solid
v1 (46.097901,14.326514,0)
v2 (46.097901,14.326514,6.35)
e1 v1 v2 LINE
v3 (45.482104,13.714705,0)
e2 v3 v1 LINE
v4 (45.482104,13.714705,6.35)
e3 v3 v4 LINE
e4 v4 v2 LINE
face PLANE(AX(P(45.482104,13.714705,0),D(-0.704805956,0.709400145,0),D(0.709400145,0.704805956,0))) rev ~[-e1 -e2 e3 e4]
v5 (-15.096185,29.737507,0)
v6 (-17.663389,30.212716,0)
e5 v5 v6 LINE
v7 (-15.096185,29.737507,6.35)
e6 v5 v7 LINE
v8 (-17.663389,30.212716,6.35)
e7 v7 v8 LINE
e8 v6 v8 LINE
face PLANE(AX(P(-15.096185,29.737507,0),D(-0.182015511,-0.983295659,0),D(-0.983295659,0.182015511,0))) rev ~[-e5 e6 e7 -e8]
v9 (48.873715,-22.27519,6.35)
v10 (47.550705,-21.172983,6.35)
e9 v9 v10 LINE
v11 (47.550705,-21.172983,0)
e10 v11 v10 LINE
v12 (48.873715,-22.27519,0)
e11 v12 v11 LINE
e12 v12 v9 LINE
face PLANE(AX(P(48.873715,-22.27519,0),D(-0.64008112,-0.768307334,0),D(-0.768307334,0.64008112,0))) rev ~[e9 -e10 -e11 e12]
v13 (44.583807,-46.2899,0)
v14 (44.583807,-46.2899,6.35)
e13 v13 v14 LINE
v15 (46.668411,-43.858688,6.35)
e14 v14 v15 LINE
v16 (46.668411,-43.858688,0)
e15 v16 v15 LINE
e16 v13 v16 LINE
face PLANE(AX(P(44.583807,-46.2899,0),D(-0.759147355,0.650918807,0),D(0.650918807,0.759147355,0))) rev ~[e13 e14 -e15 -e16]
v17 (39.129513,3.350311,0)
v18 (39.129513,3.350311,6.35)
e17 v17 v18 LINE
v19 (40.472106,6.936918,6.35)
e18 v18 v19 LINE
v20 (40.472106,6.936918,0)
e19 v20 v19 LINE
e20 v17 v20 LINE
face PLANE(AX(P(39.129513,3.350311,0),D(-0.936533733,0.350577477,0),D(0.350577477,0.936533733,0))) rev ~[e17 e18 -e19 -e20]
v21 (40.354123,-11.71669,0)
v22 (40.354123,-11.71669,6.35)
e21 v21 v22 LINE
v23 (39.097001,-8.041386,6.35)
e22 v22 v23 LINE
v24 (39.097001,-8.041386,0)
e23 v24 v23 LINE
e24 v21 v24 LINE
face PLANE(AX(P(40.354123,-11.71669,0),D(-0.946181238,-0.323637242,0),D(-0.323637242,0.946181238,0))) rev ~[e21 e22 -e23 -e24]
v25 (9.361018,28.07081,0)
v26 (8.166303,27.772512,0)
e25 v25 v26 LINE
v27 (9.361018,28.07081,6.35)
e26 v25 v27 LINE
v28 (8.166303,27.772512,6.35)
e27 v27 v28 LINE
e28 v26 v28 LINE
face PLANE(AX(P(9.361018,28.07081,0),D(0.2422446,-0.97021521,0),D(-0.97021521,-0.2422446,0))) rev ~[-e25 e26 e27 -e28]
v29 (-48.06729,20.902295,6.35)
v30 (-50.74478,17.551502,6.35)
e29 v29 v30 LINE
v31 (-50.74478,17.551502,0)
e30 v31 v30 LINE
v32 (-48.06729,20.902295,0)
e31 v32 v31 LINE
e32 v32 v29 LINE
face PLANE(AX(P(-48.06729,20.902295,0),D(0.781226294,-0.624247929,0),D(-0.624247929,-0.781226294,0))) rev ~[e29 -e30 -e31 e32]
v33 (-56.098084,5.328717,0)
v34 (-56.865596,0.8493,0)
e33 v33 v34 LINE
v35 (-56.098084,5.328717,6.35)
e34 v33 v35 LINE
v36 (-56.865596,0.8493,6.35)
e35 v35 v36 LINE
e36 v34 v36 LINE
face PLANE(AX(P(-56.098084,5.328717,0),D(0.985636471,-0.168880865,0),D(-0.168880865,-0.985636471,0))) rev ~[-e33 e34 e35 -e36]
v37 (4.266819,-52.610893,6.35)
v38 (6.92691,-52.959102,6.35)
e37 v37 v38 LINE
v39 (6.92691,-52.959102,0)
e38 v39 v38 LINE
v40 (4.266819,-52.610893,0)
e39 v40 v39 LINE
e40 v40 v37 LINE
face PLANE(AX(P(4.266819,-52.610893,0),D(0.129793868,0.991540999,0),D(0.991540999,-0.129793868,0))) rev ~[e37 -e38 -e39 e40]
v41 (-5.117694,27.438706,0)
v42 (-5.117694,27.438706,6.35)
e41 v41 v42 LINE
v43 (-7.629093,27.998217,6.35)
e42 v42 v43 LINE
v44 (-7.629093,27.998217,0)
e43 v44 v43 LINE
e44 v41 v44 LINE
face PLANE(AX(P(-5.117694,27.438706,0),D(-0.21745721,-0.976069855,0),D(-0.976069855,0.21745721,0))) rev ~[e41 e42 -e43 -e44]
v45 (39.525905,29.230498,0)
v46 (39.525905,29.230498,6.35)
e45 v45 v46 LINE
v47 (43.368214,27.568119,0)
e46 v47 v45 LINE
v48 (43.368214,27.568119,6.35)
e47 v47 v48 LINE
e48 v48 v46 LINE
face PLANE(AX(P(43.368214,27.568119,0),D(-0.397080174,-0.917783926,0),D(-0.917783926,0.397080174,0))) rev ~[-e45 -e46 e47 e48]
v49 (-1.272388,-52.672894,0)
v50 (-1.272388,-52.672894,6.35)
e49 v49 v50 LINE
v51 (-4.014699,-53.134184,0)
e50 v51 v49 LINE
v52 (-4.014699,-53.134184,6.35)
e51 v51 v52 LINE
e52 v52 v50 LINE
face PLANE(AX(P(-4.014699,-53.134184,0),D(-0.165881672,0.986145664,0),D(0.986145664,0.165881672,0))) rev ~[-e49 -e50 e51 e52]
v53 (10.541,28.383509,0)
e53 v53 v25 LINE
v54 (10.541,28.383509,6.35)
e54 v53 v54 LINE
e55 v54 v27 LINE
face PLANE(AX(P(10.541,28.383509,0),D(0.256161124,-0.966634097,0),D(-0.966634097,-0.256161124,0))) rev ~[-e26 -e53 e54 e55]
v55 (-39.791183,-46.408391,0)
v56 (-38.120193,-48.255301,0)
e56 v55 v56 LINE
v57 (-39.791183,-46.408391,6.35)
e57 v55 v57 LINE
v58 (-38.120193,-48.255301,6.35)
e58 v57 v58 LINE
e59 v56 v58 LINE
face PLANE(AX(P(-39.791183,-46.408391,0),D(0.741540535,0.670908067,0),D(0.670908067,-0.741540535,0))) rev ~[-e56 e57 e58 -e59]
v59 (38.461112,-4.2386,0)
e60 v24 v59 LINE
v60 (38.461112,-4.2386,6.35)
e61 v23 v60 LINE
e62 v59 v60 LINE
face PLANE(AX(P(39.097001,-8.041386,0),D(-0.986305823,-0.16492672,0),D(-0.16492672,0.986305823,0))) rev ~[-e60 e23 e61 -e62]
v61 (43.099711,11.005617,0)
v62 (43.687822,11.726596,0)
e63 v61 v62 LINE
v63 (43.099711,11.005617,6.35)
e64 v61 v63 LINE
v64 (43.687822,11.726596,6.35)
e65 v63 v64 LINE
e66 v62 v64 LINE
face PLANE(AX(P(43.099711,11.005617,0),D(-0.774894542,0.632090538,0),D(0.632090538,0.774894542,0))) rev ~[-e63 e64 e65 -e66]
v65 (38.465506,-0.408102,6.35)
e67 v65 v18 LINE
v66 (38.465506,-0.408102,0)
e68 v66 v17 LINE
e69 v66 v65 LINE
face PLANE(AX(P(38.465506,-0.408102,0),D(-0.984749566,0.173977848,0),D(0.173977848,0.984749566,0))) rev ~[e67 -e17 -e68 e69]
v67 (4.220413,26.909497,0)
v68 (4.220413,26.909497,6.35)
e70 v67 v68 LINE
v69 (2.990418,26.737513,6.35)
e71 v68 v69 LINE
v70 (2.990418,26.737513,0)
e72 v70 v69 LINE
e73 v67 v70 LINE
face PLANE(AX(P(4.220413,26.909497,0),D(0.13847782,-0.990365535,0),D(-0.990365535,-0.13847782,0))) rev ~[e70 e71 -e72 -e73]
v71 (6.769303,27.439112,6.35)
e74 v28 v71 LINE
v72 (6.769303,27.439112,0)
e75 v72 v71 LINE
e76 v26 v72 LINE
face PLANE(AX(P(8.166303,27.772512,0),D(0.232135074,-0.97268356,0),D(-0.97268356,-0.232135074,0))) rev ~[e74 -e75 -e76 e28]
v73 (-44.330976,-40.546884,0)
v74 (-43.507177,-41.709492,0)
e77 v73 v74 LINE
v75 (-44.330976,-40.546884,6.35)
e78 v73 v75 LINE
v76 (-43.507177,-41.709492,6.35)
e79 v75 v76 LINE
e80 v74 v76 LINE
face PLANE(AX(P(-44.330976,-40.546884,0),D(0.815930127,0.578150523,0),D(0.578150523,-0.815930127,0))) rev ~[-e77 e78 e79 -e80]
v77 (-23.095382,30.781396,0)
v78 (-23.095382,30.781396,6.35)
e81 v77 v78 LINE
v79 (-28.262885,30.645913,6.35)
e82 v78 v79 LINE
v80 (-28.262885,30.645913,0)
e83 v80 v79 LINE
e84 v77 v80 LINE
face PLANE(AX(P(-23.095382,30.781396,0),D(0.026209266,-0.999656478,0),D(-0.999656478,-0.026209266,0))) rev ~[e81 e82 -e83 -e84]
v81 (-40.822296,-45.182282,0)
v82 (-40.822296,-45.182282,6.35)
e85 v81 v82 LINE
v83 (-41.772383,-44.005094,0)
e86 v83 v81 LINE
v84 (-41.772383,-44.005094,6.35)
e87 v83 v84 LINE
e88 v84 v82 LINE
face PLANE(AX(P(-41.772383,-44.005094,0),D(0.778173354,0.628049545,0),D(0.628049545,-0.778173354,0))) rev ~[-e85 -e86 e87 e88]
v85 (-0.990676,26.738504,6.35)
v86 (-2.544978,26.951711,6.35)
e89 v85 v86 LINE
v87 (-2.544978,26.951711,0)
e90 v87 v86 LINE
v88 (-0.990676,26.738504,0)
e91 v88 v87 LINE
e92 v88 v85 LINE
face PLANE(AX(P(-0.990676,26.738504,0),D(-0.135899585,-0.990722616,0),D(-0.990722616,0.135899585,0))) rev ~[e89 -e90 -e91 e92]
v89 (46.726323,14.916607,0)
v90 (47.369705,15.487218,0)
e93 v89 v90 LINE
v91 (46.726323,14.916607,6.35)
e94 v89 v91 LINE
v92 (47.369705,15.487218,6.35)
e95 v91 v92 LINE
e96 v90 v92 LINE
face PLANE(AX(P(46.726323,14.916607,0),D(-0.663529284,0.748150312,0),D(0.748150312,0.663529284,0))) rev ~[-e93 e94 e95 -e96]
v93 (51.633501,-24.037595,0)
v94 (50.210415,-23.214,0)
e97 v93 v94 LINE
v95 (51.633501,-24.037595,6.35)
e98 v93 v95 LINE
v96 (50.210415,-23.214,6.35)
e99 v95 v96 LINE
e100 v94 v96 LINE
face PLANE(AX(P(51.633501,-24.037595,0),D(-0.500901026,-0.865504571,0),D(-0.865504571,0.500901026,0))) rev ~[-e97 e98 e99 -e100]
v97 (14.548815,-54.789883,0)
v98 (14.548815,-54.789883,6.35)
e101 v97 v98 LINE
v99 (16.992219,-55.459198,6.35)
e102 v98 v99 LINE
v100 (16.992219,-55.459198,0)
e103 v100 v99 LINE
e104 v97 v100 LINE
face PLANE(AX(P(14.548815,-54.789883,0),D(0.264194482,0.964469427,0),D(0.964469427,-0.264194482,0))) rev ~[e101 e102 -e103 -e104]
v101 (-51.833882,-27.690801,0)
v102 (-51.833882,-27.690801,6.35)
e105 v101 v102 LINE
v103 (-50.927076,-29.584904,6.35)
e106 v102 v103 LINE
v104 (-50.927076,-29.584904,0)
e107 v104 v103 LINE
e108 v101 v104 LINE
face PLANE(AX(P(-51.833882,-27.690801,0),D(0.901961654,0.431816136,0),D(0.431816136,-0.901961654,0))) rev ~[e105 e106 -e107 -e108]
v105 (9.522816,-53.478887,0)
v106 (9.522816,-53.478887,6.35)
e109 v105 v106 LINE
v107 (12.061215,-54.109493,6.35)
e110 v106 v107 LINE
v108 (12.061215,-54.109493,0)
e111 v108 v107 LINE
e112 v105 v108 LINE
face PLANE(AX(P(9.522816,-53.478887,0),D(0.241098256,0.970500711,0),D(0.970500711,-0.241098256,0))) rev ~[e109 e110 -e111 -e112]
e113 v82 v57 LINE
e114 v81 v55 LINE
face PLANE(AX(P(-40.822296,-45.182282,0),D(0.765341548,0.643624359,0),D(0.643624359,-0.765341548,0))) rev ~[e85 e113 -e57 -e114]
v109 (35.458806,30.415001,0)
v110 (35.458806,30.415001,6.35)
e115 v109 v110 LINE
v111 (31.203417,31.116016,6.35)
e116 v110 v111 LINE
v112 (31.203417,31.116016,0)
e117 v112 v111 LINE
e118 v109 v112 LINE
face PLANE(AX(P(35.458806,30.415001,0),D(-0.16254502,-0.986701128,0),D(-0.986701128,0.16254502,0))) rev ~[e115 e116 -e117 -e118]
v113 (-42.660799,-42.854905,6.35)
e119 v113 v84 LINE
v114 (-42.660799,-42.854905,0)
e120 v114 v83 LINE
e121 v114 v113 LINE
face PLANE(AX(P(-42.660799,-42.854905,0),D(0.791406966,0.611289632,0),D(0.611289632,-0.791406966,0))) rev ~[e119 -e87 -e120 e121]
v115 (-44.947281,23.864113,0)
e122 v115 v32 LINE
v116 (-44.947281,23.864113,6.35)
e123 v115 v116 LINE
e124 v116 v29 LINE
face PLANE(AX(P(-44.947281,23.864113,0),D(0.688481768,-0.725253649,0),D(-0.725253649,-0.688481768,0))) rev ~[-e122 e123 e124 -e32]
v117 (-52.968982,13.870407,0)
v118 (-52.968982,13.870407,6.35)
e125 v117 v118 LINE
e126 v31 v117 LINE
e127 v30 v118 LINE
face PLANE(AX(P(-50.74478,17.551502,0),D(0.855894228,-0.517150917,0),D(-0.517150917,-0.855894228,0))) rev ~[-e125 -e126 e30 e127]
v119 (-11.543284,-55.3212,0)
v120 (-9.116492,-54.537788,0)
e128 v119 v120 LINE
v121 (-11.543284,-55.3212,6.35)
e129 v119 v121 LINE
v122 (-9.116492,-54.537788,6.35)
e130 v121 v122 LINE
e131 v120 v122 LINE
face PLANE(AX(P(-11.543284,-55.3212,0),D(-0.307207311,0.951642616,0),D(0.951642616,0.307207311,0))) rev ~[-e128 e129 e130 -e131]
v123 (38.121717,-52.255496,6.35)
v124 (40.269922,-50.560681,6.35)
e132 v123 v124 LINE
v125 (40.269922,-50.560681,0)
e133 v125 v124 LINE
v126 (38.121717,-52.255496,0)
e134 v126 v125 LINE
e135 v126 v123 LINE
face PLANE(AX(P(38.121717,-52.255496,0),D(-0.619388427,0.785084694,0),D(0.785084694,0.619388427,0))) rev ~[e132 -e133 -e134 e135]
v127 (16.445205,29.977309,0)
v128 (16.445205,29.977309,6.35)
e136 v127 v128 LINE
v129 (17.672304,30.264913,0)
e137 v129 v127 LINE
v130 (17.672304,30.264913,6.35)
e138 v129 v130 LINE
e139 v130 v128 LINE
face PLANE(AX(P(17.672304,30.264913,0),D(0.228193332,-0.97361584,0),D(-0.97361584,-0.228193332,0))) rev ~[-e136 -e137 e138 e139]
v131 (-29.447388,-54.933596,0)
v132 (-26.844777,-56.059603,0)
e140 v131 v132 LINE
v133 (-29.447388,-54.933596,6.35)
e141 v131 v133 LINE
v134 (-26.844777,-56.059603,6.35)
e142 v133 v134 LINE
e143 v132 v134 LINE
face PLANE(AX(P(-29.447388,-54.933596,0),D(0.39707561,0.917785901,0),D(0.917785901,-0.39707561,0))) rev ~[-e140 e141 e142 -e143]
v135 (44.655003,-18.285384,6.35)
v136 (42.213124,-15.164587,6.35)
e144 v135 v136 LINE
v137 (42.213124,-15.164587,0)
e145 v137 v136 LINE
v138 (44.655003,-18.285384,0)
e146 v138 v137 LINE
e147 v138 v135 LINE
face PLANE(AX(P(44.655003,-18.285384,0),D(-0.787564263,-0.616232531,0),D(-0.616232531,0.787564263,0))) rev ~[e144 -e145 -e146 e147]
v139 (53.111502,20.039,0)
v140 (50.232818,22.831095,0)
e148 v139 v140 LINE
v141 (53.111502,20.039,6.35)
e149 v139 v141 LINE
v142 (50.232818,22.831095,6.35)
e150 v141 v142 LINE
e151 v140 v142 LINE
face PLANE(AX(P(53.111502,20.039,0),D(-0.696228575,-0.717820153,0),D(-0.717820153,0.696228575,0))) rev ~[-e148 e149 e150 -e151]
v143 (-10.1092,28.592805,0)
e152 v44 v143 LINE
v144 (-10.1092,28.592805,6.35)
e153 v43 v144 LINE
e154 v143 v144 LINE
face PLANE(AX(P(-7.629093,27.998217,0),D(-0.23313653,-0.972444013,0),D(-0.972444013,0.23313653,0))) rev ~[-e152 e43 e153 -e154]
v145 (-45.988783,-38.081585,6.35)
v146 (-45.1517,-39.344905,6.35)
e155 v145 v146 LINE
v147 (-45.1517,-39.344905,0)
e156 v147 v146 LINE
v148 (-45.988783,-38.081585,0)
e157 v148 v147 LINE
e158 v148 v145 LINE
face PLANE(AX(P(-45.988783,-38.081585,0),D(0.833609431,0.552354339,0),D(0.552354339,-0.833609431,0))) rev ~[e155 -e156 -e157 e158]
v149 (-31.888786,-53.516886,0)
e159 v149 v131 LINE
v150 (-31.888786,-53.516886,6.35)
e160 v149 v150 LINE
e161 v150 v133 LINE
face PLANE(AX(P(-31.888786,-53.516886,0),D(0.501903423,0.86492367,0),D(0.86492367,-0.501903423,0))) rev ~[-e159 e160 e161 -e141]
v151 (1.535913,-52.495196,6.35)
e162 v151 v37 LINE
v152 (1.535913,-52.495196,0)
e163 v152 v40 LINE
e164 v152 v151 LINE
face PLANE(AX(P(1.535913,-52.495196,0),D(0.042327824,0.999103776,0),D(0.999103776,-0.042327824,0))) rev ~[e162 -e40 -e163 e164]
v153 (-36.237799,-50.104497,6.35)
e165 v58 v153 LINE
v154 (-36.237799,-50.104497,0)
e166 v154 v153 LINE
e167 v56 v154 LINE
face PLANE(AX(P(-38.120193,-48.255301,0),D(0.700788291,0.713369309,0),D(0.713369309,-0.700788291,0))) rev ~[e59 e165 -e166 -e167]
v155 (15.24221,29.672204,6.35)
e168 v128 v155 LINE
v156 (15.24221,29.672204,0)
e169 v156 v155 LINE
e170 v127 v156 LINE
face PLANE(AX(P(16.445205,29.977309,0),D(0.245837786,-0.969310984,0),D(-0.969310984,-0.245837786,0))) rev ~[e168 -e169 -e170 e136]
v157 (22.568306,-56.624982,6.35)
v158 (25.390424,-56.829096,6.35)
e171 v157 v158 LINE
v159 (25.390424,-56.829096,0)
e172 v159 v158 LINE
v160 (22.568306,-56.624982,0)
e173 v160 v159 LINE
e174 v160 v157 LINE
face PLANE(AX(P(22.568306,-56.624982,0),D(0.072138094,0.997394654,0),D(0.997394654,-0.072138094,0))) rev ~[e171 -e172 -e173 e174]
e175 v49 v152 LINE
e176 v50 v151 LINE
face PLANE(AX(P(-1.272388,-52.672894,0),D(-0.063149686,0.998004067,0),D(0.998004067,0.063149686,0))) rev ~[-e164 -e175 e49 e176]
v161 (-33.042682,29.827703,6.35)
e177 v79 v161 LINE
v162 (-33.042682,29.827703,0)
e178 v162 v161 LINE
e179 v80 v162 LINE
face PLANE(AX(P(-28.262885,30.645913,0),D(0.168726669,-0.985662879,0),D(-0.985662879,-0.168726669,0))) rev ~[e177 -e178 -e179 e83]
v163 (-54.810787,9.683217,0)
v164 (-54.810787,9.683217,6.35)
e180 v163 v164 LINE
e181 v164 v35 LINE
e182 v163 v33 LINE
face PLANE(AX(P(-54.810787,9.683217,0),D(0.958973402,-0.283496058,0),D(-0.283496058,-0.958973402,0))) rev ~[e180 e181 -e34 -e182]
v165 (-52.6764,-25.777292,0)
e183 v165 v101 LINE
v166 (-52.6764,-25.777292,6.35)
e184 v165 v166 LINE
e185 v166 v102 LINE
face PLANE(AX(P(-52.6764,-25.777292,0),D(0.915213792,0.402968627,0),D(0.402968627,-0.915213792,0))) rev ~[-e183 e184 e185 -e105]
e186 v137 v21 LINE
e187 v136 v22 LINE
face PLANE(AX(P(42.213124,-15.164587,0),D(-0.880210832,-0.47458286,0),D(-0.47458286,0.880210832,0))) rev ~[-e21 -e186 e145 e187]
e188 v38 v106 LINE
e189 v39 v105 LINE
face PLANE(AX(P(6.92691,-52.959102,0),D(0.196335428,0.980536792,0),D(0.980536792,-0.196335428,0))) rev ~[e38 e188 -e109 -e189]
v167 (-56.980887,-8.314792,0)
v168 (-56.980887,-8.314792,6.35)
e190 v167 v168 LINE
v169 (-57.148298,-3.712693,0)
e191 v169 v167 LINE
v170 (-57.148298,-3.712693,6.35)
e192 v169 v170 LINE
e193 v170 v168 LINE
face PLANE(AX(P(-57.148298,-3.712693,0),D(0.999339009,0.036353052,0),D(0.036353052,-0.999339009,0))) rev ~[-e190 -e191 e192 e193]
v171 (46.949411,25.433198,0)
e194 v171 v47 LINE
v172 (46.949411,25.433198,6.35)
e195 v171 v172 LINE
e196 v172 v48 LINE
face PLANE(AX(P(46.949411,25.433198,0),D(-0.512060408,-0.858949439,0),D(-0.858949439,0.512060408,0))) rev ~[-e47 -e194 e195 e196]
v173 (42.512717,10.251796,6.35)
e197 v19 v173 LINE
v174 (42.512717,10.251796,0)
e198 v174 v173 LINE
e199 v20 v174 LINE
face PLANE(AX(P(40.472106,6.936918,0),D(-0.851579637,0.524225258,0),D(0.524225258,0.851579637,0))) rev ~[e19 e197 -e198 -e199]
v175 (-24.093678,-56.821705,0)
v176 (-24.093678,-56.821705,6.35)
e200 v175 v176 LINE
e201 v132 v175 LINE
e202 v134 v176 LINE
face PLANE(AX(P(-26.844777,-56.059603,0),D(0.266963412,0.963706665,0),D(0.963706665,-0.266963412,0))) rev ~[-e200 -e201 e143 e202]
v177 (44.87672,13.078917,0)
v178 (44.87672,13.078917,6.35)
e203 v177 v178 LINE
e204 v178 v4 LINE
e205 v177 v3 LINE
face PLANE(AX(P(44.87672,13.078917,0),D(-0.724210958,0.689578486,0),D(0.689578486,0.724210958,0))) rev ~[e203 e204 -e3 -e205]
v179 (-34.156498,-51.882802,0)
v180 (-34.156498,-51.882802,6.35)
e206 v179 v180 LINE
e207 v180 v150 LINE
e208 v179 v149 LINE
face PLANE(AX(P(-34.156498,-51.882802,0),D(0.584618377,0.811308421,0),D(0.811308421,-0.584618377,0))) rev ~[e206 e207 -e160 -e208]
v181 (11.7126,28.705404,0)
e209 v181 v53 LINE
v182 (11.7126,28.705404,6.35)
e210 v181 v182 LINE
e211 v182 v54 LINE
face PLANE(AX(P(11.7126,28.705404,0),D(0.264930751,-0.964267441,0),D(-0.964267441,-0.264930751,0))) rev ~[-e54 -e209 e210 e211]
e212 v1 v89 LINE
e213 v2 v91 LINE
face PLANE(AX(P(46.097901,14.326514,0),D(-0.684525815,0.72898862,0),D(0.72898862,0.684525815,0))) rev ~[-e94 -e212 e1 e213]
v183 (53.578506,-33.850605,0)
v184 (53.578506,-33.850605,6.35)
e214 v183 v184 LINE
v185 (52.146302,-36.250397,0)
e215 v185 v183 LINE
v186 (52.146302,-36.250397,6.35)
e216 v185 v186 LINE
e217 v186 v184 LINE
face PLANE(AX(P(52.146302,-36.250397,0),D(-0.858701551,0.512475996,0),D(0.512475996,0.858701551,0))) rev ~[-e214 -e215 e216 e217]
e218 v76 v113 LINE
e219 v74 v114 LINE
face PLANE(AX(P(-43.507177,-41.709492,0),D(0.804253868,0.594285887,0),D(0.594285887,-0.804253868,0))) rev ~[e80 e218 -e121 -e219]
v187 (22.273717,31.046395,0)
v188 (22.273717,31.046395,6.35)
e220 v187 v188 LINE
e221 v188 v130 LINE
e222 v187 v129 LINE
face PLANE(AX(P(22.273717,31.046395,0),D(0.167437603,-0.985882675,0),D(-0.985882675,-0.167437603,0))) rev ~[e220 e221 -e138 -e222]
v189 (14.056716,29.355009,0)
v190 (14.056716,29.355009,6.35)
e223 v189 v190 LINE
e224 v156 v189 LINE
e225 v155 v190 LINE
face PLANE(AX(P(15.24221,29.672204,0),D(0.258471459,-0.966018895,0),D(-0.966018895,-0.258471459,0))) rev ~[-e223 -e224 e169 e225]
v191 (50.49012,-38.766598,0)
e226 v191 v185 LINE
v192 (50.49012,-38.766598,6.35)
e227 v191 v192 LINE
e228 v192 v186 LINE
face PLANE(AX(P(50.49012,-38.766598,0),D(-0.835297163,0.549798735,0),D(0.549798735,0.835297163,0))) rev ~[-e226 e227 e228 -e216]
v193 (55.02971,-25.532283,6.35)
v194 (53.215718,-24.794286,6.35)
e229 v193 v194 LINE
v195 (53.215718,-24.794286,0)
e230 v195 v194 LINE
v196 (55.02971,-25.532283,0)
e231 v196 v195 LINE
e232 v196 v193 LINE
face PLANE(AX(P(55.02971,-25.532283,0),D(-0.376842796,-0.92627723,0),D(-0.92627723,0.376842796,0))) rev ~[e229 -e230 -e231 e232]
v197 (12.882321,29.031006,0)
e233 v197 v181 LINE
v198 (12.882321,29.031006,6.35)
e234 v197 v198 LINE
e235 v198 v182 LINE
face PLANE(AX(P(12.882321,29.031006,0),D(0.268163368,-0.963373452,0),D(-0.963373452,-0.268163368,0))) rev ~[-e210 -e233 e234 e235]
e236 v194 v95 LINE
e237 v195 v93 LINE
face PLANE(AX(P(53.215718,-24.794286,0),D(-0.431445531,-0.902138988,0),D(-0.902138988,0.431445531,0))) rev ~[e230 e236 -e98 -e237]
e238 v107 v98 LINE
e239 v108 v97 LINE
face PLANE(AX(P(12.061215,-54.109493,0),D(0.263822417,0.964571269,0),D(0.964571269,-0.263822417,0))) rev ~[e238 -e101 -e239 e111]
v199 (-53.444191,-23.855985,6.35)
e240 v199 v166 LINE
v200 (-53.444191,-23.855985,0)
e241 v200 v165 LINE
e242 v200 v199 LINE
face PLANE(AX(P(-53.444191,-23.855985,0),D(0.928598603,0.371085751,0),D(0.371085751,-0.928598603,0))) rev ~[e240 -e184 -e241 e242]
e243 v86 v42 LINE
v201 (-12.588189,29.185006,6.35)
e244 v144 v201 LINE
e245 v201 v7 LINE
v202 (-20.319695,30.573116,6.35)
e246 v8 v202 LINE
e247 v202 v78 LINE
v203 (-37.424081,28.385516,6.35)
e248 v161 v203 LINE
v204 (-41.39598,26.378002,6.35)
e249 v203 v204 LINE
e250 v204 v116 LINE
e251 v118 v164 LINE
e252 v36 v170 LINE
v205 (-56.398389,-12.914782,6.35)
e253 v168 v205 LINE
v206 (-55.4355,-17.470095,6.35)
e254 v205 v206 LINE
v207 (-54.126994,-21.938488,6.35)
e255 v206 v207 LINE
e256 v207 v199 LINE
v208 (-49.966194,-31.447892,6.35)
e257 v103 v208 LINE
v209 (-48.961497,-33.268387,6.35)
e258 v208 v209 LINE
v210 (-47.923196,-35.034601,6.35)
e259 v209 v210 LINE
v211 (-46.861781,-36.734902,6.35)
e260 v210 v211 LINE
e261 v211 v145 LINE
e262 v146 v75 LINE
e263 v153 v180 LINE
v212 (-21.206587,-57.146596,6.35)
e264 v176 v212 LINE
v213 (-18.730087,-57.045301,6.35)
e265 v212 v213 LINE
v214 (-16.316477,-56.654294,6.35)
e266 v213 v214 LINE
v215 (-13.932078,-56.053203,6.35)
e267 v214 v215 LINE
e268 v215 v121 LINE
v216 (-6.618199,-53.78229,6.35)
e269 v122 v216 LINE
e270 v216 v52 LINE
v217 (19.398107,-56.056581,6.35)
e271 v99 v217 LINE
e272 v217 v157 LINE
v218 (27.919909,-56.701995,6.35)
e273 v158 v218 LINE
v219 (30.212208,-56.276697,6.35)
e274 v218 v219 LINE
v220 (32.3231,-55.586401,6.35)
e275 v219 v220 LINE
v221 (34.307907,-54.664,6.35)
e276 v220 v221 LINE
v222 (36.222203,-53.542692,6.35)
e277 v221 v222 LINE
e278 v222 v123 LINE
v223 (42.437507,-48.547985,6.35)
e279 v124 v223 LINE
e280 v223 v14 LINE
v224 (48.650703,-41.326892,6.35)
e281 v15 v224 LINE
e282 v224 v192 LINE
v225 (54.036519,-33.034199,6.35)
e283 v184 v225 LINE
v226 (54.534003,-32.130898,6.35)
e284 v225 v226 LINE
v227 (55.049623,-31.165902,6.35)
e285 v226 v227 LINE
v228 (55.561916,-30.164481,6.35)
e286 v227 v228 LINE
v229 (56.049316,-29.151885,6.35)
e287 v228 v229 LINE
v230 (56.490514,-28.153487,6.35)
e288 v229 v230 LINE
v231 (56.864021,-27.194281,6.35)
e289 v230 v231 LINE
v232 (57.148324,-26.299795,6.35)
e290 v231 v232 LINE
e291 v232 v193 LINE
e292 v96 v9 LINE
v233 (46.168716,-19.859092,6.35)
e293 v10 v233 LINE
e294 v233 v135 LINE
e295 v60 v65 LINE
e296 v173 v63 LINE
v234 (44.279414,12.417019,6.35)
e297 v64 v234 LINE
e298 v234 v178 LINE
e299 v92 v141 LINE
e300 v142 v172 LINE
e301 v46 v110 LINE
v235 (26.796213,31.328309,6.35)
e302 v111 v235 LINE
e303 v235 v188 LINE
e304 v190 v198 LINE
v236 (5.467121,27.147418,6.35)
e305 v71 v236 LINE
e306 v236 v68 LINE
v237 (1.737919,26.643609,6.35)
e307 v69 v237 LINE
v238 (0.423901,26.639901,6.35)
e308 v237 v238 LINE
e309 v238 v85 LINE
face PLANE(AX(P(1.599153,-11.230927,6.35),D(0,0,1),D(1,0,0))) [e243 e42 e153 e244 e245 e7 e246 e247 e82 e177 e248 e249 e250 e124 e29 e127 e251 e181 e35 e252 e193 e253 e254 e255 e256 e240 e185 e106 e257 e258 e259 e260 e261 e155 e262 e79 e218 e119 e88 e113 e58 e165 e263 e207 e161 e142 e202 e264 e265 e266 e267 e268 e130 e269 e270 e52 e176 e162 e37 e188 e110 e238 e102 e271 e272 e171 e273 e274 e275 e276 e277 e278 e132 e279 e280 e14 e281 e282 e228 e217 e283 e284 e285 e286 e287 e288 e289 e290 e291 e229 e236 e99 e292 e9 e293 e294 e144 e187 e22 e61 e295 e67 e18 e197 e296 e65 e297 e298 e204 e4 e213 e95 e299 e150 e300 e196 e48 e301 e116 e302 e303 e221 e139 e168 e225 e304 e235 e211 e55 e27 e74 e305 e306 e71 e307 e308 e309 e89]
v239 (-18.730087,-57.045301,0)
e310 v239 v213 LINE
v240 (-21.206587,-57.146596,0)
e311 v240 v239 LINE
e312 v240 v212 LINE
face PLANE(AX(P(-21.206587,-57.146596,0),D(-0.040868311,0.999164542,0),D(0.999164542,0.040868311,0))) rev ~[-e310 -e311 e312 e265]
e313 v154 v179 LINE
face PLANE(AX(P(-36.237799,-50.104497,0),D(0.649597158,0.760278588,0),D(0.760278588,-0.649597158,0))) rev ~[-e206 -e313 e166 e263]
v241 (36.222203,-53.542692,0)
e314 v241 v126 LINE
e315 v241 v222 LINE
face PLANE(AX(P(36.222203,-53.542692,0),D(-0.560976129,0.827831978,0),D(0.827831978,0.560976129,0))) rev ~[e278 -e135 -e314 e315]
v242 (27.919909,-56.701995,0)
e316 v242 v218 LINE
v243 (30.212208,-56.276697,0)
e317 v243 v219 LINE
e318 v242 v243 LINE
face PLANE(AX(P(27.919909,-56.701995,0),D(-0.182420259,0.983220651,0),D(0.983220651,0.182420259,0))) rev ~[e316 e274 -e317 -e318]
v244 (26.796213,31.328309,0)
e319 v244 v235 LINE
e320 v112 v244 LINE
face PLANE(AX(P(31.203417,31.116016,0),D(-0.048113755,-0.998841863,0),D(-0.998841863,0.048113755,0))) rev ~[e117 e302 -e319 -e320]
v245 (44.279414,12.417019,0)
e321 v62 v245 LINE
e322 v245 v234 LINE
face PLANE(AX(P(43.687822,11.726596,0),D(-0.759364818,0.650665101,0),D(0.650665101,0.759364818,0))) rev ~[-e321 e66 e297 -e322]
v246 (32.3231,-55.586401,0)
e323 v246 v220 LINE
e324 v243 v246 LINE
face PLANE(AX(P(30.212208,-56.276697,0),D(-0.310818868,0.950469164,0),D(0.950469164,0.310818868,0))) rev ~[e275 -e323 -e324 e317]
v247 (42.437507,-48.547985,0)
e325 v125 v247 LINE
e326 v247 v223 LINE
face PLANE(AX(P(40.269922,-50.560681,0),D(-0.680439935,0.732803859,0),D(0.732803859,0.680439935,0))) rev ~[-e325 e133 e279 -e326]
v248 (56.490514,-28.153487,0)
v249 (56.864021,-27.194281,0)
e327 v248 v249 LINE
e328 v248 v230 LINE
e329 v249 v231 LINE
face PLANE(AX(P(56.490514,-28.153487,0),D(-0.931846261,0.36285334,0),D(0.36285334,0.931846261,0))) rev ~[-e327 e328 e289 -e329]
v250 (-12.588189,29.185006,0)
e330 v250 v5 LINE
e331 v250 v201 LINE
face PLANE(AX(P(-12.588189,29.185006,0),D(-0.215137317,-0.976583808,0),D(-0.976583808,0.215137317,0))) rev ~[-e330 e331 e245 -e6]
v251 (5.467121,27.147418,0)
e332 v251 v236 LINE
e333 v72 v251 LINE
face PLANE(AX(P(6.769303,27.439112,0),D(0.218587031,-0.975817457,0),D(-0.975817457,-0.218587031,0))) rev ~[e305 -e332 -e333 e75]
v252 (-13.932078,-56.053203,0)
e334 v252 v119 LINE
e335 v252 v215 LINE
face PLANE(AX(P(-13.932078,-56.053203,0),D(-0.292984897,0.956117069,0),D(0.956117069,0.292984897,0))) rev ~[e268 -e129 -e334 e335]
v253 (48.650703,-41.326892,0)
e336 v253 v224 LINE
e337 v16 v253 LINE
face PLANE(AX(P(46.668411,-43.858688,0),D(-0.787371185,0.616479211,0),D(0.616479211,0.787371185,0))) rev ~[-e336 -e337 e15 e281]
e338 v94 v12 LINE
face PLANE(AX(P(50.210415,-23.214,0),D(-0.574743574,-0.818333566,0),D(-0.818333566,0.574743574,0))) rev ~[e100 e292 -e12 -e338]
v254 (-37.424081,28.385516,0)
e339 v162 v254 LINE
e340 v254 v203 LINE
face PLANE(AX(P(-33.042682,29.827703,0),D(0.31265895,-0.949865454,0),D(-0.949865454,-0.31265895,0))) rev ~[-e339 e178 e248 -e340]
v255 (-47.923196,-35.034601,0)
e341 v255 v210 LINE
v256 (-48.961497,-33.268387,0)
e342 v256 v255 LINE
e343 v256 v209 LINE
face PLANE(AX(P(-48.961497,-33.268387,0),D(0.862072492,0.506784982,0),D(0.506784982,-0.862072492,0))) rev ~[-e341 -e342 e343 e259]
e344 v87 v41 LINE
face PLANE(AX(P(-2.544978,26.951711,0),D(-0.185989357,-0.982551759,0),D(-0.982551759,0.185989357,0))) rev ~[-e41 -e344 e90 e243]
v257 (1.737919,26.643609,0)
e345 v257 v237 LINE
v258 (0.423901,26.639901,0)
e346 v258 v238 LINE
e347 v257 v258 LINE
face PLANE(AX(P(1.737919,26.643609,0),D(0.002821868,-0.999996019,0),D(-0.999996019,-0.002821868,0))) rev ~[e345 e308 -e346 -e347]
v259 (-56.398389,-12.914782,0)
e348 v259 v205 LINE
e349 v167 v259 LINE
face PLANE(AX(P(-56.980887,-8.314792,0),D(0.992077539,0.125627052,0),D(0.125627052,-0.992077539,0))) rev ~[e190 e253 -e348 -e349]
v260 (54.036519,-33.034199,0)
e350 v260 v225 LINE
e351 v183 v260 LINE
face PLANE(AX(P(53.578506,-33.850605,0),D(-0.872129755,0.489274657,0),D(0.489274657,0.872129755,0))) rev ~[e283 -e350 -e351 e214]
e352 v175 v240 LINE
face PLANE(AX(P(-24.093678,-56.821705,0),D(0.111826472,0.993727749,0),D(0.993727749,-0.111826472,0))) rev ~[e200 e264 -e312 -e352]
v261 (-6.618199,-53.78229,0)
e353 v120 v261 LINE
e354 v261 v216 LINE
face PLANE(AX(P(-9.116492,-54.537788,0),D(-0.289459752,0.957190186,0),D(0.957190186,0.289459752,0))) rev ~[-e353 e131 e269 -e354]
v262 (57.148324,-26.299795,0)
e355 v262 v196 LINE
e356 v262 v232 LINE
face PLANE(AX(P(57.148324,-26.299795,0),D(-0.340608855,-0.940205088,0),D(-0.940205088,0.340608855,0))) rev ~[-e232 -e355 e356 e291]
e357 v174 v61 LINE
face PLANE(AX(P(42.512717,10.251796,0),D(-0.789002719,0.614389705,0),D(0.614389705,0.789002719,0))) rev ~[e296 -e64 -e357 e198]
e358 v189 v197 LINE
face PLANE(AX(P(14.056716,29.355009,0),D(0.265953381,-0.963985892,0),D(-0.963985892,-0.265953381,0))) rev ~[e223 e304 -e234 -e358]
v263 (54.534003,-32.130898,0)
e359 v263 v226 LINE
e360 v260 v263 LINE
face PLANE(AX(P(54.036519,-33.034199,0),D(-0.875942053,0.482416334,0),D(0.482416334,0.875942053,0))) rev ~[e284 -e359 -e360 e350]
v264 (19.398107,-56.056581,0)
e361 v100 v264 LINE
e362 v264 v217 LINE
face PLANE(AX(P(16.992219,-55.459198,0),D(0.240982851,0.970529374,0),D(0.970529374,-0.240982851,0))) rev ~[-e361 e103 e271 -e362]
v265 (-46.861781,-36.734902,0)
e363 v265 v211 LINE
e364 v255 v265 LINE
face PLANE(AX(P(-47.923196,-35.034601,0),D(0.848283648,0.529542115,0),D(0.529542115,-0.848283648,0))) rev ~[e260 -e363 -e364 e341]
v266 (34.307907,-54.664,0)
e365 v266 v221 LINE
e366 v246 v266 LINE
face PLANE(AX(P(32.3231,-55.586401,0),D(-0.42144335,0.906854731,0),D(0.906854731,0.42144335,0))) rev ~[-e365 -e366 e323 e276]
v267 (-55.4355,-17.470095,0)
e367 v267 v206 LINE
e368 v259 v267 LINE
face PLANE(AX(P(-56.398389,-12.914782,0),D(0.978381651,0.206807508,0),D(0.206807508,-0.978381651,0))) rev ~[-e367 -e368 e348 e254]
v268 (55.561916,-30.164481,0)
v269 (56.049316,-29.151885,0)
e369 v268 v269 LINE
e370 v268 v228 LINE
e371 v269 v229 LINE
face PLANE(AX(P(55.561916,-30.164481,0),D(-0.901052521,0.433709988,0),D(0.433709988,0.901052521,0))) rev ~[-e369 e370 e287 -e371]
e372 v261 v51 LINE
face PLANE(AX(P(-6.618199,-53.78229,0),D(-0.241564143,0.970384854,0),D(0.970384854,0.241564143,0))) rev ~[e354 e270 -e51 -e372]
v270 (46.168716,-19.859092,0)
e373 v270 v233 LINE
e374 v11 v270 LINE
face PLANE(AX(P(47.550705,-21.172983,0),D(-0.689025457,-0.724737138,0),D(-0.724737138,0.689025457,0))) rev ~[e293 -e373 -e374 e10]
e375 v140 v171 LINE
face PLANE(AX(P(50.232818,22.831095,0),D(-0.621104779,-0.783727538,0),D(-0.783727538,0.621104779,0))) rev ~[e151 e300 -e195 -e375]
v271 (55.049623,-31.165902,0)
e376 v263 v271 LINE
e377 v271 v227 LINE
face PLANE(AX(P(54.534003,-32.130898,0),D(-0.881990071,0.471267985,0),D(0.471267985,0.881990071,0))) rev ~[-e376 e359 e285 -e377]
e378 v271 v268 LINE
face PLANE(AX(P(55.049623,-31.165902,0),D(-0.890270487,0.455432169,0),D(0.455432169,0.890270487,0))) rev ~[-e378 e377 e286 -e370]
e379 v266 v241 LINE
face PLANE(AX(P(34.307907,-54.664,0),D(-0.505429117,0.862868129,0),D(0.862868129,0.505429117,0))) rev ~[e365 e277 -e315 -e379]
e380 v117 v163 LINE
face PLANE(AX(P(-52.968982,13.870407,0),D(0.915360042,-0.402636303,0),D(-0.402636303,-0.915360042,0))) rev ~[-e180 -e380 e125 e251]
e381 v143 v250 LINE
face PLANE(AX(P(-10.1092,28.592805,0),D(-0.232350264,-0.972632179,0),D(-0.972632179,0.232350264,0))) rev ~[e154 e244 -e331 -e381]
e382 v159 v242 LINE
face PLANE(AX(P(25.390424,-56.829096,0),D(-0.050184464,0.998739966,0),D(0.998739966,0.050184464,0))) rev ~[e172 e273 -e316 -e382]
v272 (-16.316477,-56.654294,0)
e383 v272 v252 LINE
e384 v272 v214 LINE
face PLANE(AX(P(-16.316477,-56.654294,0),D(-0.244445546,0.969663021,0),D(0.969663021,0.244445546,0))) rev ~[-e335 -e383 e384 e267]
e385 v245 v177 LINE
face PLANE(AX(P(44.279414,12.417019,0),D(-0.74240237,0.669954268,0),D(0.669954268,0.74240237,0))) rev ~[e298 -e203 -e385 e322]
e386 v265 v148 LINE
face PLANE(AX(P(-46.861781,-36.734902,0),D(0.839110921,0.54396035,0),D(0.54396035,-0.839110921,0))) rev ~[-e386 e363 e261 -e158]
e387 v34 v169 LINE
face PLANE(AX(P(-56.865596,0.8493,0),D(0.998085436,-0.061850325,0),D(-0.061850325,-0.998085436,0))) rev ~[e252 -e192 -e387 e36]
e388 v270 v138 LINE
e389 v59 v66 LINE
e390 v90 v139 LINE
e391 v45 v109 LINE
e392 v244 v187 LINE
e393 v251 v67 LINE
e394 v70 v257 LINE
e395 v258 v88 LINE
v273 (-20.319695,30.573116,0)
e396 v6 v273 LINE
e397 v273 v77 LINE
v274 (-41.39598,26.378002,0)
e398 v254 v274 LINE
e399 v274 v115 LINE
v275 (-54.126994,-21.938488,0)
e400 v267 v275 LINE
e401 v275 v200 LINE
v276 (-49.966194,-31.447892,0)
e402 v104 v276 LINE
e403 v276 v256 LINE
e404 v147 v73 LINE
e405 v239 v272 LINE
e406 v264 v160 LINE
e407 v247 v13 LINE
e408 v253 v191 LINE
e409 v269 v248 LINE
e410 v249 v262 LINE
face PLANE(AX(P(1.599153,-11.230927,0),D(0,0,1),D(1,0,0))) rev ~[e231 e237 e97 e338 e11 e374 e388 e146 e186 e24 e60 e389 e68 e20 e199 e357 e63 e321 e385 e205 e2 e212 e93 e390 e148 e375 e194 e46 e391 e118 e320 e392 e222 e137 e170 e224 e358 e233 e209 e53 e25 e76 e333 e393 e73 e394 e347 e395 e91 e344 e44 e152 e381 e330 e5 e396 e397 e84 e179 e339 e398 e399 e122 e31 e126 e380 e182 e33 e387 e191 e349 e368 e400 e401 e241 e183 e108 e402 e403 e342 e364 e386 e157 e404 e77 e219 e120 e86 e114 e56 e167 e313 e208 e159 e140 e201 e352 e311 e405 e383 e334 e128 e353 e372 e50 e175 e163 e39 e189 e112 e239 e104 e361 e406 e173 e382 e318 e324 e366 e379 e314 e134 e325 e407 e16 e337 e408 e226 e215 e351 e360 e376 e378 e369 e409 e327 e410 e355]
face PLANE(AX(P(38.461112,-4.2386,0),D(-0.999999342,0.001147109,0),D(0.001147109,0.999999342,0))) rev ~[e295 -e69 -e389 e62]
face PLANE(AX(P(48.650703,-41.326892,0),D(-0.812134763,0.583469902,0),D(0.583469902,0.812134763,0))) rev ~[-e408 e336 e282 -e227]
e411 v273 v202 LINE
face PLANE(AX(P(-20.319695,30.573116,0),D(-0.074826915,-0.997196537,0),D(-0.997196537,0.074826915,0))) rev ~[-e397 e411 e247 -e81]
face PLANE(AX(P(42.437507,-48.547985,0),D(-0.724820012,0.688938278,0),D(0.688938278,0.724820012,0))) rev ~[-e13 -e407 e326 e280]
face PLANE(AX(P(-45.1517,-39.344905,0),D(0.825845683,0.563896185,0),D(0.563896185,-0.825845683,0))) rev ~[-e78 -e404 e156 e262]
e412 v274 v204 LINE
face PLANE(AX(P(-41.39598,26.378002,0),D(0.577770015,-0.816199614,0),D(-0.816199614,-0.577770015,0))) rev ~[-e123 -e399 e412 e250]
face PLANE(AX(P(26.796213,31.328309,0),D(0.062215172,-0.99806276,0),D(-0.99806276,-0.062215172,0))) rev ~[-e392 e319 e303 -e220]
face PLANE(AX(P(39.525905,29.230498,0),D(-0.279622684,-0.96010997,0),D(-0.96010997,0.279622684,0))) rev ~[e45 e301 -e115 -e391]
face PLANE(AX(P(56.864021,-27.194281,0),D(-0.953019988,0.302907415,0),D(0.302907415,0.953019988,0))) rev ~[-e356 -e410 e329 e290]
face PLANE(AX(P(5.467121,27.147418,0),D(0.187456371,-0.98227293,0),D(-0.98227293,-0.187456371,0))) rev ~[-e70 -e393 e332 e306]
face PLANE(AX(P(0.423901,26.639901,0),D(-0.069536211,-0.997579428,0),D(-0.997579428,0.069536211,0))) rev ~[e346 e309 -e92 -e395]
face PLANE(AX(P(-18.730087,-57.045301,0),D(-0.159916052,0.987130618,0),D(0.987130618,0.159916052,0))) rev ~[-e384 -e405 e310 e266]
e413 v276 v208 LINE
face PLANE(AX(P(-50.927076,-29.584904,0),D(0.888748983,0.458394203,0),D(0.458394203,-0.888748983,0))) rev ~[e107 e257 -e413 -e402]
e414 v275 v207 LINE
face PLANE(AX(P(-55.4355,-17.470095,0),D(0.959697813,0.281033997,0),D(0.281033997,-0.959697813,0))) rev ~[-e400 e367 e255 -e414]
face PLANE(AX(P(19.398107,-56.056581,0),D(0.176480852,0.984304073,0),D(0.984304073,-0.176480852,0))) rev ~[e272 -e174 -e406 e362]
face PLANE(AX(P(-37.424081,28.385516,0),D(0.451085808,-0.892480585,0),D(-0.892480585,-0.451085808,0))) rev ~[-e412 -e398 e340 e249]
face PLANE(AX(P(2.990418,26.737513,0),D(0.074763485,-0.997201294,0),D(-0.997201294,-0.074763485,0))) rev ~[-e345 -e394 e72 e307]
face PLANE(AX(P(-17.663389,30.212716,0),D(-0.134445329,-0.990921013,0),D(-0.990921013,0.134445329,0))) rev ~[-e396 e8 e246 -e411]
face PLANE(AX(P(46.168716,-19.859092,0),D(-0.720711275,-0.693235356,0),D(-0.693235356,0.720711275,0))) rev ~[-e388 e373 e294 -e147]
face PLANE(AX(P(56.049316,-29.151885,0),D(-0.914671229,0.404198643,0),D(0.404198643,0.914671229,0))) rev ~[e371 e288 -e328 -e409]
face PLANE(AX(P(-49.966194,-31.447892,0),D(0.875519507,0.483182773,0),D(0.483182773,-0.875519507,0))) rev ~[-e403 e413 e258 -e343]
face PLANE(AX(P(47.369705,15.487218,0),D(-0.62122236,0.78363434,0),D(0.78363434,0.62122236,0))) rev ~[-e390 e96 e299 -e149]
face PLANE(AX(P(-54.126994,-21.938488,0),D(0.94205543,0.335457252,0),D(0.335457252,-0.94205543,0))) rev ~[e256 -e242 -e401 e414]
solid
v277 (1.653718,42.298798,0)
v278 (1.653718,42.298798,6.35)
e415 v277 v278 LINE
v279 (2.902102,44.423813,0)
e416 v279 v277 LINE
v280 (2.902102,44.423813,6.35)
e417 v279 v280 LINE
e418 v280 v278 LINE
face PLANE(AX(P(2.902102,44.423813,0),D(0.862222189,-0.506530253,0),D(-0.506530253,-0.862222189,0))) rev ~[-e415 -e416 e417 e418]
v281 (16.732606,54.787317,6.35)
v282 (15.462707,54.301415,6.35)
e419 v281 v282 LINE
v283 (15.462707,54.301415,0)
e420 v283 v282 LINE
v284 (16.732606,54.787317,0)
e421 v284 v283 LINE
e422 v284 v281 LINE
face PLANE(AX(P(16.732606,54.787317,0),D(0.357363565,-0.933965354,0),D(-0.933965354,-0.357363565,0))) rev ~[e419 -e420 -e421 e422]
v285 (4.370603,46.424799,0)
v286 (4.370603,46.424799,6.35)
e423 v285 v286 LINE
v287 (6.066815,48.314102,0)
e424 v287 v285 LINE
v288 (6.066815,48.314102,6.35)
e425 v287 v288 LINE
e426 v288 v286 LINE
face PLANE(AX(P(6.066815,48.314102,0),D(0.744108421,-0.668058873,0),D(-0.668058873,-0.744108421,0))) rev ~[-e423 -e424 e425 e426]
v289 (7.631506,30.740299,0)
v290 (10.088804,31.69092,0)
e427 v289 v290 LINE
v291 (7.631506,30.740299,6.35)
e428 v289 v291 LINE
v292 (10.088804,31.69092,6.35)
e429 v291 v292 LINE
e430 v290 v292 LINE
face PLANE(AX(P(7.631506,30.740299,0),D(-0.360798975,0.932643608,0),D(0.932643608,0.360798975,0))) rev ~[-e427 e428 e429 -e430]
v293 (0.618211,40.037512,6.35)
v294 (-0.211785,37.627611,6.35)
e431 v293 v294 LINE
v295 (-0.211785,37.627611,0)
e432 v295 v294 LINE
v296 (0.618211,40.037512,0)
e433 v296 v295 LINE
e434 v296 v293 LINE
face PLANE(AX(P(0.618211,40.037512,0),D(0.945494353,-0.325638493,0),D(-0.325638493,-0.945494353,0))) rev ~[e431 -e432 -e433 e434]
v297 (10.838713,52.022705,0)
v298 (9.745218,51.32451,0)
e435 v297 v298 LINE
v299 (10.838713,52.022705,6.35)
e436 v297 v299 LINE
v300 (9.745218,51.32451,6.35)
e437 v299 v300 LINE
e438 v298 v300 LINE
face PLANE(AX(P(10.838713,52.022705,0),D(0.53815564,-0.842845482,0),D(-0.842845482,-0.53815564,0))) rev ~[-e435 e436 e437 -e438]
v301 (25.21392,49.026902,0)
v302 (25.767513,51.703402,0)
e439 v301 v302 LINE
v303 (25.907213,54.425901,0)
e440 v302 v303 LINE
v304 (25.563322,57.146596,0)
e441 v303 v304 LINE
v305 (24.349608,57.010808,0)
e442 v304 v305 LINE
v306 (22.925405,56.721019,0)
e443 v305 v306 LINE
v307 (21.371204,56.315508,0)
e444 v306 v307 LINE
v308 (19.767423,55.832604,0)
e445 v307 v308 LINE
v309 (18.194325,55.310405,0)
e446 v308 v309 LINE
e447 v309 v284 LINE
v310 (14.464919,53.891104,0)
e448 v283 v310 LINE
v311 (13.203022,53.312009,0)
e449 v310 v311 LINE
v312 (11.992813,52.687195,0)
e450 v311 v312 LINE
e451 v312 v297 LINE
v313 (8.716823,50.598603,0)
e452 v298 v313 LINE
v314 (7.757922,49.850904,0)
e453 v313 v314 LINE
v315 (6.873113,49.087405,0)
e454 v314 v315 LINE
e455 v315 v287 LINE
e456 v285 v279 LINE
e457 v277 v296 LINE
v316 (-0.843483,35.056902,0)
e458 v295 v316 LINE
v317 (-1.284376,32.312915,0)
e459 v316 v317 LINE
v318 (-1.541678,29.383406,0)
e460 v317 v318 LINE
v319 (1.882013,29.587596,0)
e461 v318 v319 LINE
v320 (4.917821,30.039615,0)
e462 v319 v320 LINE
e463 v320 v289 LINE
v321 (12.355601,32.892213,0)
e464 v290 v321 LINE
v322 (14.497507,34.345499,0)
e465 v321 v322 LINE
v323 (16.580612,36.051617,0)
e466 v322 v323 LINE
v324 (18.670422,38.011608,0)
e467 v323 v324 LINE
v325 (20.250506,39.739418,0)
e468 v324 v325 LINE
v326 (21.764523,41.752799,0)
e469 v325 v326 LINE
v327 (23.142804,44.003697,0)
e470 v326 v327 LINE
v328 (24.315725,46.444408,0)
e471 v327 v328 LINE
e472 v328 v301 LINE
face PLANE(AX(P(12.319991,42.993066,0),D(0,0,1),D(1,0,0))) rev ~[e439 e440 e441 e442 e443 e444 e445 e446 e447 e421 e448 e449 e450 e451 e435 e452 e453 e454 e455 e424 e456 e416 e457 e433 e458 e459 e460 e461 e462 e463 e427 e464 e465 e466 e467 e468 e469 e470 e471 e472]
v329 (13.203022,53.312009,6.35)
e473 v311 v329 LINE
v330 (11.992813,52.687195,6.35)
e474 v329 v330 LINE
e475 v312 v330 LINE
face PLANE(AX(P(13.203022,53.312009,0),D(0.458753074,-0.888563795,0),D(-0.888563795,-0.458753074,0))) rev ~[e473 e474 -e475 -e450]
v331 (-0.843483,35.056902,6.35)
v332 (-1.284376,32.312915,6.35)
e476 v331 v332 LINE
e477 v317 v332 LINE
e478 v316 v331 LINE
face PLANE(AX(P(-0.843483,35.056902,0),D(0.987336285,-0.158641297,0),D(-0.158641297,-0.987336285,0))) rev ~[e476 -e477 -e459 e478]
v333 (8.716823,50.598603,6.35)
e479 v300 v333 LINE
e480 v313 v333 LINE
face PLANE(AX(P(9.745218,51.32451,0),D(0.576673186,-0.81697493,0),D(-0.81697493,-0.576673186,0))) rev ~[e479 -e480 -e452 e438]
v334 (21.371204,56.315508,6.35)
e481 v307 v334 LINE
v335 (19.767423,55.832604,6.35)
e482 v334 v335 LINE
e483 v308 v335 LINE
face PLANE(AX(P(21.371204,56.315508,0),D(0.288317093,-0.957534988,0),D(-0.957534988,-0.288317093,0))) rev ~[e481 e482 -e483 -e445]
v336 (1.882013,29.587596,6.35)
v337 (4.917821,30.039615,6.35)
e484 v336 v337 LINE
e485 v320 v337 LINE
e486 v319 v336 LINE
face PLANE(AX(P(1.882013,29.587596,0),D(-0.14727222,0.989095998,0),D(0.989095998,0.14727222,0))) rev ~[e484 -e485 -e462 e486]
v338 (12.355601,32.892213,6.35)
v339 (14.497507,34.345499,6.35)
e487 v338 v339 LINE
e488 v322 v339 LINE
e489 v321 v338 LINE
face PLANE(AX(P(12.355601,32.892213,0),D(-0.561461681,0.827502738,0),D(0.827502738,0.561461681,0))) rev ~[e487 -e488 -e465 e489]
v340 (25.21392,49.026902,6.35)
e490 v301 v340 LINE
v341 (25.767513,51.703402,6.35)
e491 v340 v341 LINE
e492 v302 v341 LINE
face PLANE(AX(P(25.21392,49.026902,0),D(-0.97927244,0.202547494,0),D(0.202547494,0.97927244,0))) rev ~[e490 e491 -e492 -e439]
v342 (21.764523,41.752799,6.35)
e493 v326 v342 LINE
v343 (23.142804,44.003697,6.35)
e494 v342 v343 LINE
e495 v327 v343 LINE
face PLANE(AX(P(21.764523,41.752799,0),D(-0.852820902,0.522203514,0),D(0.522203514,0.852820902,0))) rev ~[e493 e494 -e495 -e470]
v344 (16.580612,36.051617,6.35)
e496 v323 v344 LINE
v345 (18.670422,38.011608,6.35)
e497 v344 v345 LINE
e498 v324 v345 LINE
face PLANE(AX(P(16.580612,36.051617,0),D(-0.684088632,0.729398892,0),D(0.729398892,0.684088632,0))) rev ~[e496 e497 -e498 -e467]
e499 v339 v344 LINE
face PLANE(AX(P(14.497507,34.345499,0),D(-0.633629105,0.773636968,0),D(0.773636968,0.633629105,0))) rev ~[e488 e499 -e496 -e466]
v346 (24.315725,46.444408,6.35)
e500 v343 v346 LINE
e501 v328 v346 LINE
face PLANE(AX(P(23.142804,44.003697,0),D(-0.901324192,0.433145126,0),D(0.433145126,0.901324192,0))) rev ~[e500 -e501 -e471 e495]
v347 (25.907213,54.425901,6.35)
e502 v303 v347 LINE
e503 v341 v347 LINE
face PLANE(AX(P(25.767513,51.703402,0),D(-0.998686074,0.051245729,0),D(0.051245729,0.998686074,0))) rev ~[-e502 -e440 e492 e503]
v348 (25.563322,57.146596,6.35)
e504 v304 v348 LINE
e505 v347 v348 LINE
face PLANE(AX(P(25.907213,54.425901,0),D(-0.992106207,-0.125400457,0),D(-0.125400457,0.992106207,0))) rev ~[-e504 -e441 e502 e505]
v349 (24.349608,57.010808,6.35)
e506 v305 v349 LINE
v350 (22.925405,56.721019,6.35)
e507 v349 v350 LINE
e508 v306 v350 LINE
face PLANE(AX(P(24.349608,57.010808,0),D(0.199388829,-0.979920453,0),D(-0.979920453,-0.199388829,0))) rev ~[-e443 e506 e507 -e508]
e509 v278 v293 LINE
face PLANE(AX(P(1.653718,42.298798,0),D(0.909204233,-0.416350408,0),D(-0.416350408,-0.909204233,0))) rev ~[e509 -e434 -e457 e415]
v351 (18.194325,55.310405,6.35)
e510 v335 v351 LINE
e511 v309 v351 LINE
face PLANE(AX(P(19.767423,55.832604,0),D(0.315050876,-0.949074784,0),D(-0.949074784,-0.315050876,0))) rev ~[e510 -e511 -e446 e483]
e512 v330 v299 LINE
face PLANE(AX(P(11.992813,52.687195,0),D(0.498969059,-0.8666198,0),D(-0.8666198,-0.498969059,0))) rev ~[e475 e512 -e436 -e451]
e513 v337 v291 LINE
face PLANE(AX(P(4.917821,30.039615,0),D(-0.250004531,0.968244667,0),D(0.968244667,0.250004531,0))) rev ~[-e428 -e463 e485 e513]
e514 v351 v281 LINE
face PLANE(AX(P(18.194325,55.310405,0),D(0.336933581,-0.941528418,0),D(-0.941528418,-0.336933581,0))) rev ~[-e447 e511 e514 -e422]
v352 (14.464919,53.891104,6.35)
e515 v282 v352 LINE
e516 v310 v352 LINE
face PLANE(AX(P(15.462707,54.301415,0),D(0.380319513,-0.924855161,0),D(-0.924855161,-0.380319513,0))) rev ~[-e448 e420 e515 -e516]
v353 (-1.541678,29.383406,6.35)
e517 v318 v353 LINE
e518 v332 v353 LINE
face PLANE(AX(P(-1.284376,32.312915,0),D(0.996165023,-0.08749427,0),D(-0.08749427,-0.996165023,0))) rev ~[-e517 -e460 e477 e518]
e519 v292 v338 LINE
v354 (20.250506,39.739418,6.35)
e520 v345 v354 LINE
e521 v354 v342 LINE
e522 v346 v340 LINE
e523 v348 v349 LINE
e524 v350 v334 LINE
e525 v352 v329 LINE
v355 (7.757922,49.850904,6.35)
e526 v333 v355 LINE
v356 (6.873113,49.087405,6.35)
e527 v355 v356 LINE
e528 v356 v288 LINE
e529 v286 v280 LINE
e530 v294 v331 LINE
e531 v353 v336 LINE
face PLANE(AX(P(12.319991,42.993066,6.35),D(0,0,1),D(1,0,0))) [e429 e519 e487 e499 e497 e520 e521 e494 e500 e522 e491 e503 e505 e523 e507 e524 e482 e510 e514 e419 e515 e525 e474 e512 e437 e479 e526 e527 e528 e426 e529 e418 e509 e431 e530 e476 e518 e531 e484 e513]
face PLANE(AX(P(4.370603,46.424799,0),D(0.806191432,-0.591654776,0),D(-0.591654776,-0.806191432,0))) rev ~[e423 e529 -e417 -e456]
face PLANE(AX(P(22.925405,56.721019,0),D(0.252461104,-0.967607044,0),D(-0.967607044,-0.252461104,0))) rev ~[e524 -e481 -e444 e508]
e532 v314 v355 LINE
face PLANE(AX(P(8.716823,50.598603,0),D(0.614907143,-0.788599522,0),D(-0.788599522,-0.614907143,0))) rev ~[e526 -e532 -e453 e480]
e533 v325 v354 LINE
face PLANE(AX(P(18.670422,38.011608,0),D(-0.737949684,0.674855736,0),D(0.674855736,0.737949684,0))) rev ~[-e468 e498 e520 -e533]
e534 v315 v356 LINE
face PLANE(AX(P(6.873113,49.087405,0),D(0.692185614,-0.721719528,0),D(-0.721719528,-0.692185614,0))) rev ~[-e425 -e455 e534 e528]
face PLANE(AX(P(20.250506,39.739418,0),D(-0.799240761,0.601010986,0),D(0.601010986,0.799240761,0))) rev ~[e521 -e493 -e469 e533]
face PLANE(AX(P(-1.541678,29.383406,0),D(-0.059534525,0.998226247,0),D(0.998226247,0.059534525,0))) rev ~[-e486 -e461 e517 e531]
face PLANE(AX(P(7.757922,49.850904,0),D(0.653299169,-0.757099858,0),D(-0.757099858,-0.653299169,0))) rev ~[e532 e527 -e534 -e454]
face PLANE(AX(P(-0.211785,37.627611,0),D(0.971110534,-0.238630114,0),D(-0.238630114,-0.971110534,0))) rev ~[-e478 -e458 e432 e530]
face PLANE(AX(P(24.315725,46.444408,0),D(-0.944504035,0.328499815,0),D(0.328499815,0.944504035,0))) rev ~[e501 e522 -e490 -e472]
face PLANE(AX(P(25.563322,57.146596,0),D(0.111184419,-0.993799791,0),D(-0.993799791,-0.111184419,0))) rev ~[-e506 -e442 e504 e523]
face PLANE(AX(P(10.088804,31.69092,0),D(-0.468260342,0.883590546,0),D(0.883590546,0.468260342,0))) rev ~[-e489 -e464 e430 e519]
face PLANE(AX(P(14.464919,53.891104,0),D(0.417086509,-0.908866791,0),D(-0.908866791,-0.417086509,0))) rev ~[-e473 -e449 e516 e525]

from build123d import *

# Parameters (mm, degrees)
F1_DEPTH = 6.35
F2_DEPTH = 6.35


with BuildPart() as f1:
    # F0 (on Top) → F1 (new body)
    with BuildSketch(Plane.XY):
        Polygon((56.864021, -27.194281), (57.148324, -26.299795), (55.02971, -25.532283), (53.215718, -24.794286), (51.633501, -24.037595), (50.210415, -23.214), (48.873715, -22.27519), (47.550705, -21.172983), (46.168716, -19.859092), (44.655003, -18.285384), (42.213124, -15.164587), (40.354123, -11.71669), (39.097001, -8.041386), (38.461112, -4.2386), (38.465506, -0.408102), (39.129513, 3.350311), (40.472106, 6.936918), (42.512717, 10.251796), (43.099711, 11.005617), (43.687822, 11.726596), (44.279414, 12.417019), (44.87672, 13.078917), (45.482104, 13.714705), (46.097901, 14.326514), (46.726323, 14.916607), (47.369705, 15.487218), (53.111502, 20.039), (50.232818, 22.831095), (46.949411, 25.433198), (43.368214, 27.568119), (39.525905, 29.230498), (35.458806, 30.415001), (31.203417, 31.116016), (26.796213, 31.328309), (22.273717, 31.046395), (17.672304, 30.264913), (16.445205, 29.977309), (15.24221, 29.672204), (14.056716, 29.355009), (12.882321, 29.031006), (11.7126, 28.705404), (10.541, 28.383509), (9.361018, 28.07081), (8.166303, 27.772512), (6.769303, 27.439112), (5.467121, 27.147418), (4.220413, 26.909497), (2.990418, 26.737513), (1.737919, 26.643609), (0.423901, 26.639901), (-0.990676, 26.738504), (-2.544978, 26.951711), (-5.117694, 27.438706), (-7.629093, 27.998217), (-10.1092, 28.592805), (-12.588189, 29.185006), (-15.096185, 29.737507), (-17.663389, 30.212716), (-20.319695, 30.573116), (-23.095382, 30.781396), (-28.262885, 30.645913), (-33.042682, 29.827703), (-37.424081, 28.385516), (-41.39598, 26.378002), (-44.947281, 23.864113), (-48.06729, 20.902295), (-50.74478, 17.551502), (-52.968982, 13.870407), (-54.810787, 9.683217), (-56.098084, 5.328717), (-56.865596, 0.8493), (-57.148298, -3.712693), (-56.980887, -8.314792), (-56.398389, -12.914782), (-55.4355, -17.470095), (-54.126994, -21.938488), (-53.444191, -23.855985), (-52.6764, -25.777292), (-51.833882, -27.690801), (-50.927076, -29.584904), (-49.966194, -31.447892), (-48.961497, -33.268387), (-47.923196, -35.034601), (-46.861781, -36.734902), (-45.988783, -38.081585), (-45.1517, -39.344905), (-44.330976, -40.546884), (-43.507177, -41.709492), (-42.660799, -42.854905), (-41.772383, -44.005094), (-40.822296, -45.182282), (-39.791183, -46.408391), (-38.120193, -48.255301), (-36.237799, -50.104497), (-34.156498, -51.882802), (-31.888786, -53.516886), (-29.447388, -54.933596), (-26.844777, -56.059603), (-24.093678, -56.821705), (-21.206587, -57.146596), (-18.730087, -57.045301), (-16.316477, -56.654294), (-13.932078, -56.053203), (-11.543284, -55.3212), (-9.116492, -54.537788), (-6.618199, -53.78229), (-4.014699, -53.134184), (-1.272388, -52.672894), (1.535913, -52.495196), (4.266819, -52.610893), (6.92691, -52.959102), (9.522816, -53.478887), (12.061215, -54.109493), (14.548815, -54.789883), (16.992219, -55.459198), (19.398107, -56.056581), (22.568306, -56.624982), (25.390424, -56.829096), (27.919909, -56.701995), (30.212208, -56.276697), (32.3231, -55.586401), (34.307907, -54.664), (36.222203, -53.542692), (38.121717, -52.255496), (40.269922, -50.560681), (42.437507, -48.547985), (44.583807, -46.2899), (46.668411, -43.858688), (48.650703, -41.326892), (50.49012, -38.766598), (52.146302, -36.250397), (53.578506, -33.850605), (54.036519, -33.034199), (54.534003, -32.130898), (55.049623, -31.165902), (55.561916, -30.164481), (56.049316, -29.151885), (56.490514, -28.153487), align=None)
    extrude(amount=F1_DEPTH)


with BuildPart() as f2:
    # F0 (on Top) → F2 (new body)
    with BuildSketch(Plane.XY):
        Polygon((-1.284376, 32.312915), (-1.541678, 29.383406), (1.882013, 29.587596), (4.917821, 30.039615), (7.631506, 30.740299), (10.088804, 31.69092), (12.355601, 32.892213), (14.497507, 34.345499), (16.580612, 36.051617), (18.670422, 38.011608), (20.250506, 39.739418), (21.764523, 41.752799), (23.142804, 44.003697), (24.315725, 46.444408), (25.21392, 49.026902), (25.767513, 51.703402), (25.907213, 54.425901), (25.563322, 57.146596), (24.349608, 57.010808), (22.925405, 56.721019), (21.371204, 56.315508), (19.767423, 55.832604), (18.194325, 55.310405), (16.732606, 54.787317), (15.462707, 54.301415), (14.464919, 53.891104), (13.203022, 53.312009), (11.992813, 52.687195), (10.838713, 52.022705), (9.745218, 51.32451), (8.716823, 50.598603), (7.757922, 49.850904), (6.873113, 49.087405), (6.066815, 48.314102), (4.370603, 46.424799), (2.902102, 44.423813), (1.653718, 42.298798), (0.618211, 40.037512), (-0.211785, 37.627611), (-0.843483, 35.056902), align=None)
    extrude(amount=F2_DEPTH)


solid = Compound([f1.part, f2.part])
